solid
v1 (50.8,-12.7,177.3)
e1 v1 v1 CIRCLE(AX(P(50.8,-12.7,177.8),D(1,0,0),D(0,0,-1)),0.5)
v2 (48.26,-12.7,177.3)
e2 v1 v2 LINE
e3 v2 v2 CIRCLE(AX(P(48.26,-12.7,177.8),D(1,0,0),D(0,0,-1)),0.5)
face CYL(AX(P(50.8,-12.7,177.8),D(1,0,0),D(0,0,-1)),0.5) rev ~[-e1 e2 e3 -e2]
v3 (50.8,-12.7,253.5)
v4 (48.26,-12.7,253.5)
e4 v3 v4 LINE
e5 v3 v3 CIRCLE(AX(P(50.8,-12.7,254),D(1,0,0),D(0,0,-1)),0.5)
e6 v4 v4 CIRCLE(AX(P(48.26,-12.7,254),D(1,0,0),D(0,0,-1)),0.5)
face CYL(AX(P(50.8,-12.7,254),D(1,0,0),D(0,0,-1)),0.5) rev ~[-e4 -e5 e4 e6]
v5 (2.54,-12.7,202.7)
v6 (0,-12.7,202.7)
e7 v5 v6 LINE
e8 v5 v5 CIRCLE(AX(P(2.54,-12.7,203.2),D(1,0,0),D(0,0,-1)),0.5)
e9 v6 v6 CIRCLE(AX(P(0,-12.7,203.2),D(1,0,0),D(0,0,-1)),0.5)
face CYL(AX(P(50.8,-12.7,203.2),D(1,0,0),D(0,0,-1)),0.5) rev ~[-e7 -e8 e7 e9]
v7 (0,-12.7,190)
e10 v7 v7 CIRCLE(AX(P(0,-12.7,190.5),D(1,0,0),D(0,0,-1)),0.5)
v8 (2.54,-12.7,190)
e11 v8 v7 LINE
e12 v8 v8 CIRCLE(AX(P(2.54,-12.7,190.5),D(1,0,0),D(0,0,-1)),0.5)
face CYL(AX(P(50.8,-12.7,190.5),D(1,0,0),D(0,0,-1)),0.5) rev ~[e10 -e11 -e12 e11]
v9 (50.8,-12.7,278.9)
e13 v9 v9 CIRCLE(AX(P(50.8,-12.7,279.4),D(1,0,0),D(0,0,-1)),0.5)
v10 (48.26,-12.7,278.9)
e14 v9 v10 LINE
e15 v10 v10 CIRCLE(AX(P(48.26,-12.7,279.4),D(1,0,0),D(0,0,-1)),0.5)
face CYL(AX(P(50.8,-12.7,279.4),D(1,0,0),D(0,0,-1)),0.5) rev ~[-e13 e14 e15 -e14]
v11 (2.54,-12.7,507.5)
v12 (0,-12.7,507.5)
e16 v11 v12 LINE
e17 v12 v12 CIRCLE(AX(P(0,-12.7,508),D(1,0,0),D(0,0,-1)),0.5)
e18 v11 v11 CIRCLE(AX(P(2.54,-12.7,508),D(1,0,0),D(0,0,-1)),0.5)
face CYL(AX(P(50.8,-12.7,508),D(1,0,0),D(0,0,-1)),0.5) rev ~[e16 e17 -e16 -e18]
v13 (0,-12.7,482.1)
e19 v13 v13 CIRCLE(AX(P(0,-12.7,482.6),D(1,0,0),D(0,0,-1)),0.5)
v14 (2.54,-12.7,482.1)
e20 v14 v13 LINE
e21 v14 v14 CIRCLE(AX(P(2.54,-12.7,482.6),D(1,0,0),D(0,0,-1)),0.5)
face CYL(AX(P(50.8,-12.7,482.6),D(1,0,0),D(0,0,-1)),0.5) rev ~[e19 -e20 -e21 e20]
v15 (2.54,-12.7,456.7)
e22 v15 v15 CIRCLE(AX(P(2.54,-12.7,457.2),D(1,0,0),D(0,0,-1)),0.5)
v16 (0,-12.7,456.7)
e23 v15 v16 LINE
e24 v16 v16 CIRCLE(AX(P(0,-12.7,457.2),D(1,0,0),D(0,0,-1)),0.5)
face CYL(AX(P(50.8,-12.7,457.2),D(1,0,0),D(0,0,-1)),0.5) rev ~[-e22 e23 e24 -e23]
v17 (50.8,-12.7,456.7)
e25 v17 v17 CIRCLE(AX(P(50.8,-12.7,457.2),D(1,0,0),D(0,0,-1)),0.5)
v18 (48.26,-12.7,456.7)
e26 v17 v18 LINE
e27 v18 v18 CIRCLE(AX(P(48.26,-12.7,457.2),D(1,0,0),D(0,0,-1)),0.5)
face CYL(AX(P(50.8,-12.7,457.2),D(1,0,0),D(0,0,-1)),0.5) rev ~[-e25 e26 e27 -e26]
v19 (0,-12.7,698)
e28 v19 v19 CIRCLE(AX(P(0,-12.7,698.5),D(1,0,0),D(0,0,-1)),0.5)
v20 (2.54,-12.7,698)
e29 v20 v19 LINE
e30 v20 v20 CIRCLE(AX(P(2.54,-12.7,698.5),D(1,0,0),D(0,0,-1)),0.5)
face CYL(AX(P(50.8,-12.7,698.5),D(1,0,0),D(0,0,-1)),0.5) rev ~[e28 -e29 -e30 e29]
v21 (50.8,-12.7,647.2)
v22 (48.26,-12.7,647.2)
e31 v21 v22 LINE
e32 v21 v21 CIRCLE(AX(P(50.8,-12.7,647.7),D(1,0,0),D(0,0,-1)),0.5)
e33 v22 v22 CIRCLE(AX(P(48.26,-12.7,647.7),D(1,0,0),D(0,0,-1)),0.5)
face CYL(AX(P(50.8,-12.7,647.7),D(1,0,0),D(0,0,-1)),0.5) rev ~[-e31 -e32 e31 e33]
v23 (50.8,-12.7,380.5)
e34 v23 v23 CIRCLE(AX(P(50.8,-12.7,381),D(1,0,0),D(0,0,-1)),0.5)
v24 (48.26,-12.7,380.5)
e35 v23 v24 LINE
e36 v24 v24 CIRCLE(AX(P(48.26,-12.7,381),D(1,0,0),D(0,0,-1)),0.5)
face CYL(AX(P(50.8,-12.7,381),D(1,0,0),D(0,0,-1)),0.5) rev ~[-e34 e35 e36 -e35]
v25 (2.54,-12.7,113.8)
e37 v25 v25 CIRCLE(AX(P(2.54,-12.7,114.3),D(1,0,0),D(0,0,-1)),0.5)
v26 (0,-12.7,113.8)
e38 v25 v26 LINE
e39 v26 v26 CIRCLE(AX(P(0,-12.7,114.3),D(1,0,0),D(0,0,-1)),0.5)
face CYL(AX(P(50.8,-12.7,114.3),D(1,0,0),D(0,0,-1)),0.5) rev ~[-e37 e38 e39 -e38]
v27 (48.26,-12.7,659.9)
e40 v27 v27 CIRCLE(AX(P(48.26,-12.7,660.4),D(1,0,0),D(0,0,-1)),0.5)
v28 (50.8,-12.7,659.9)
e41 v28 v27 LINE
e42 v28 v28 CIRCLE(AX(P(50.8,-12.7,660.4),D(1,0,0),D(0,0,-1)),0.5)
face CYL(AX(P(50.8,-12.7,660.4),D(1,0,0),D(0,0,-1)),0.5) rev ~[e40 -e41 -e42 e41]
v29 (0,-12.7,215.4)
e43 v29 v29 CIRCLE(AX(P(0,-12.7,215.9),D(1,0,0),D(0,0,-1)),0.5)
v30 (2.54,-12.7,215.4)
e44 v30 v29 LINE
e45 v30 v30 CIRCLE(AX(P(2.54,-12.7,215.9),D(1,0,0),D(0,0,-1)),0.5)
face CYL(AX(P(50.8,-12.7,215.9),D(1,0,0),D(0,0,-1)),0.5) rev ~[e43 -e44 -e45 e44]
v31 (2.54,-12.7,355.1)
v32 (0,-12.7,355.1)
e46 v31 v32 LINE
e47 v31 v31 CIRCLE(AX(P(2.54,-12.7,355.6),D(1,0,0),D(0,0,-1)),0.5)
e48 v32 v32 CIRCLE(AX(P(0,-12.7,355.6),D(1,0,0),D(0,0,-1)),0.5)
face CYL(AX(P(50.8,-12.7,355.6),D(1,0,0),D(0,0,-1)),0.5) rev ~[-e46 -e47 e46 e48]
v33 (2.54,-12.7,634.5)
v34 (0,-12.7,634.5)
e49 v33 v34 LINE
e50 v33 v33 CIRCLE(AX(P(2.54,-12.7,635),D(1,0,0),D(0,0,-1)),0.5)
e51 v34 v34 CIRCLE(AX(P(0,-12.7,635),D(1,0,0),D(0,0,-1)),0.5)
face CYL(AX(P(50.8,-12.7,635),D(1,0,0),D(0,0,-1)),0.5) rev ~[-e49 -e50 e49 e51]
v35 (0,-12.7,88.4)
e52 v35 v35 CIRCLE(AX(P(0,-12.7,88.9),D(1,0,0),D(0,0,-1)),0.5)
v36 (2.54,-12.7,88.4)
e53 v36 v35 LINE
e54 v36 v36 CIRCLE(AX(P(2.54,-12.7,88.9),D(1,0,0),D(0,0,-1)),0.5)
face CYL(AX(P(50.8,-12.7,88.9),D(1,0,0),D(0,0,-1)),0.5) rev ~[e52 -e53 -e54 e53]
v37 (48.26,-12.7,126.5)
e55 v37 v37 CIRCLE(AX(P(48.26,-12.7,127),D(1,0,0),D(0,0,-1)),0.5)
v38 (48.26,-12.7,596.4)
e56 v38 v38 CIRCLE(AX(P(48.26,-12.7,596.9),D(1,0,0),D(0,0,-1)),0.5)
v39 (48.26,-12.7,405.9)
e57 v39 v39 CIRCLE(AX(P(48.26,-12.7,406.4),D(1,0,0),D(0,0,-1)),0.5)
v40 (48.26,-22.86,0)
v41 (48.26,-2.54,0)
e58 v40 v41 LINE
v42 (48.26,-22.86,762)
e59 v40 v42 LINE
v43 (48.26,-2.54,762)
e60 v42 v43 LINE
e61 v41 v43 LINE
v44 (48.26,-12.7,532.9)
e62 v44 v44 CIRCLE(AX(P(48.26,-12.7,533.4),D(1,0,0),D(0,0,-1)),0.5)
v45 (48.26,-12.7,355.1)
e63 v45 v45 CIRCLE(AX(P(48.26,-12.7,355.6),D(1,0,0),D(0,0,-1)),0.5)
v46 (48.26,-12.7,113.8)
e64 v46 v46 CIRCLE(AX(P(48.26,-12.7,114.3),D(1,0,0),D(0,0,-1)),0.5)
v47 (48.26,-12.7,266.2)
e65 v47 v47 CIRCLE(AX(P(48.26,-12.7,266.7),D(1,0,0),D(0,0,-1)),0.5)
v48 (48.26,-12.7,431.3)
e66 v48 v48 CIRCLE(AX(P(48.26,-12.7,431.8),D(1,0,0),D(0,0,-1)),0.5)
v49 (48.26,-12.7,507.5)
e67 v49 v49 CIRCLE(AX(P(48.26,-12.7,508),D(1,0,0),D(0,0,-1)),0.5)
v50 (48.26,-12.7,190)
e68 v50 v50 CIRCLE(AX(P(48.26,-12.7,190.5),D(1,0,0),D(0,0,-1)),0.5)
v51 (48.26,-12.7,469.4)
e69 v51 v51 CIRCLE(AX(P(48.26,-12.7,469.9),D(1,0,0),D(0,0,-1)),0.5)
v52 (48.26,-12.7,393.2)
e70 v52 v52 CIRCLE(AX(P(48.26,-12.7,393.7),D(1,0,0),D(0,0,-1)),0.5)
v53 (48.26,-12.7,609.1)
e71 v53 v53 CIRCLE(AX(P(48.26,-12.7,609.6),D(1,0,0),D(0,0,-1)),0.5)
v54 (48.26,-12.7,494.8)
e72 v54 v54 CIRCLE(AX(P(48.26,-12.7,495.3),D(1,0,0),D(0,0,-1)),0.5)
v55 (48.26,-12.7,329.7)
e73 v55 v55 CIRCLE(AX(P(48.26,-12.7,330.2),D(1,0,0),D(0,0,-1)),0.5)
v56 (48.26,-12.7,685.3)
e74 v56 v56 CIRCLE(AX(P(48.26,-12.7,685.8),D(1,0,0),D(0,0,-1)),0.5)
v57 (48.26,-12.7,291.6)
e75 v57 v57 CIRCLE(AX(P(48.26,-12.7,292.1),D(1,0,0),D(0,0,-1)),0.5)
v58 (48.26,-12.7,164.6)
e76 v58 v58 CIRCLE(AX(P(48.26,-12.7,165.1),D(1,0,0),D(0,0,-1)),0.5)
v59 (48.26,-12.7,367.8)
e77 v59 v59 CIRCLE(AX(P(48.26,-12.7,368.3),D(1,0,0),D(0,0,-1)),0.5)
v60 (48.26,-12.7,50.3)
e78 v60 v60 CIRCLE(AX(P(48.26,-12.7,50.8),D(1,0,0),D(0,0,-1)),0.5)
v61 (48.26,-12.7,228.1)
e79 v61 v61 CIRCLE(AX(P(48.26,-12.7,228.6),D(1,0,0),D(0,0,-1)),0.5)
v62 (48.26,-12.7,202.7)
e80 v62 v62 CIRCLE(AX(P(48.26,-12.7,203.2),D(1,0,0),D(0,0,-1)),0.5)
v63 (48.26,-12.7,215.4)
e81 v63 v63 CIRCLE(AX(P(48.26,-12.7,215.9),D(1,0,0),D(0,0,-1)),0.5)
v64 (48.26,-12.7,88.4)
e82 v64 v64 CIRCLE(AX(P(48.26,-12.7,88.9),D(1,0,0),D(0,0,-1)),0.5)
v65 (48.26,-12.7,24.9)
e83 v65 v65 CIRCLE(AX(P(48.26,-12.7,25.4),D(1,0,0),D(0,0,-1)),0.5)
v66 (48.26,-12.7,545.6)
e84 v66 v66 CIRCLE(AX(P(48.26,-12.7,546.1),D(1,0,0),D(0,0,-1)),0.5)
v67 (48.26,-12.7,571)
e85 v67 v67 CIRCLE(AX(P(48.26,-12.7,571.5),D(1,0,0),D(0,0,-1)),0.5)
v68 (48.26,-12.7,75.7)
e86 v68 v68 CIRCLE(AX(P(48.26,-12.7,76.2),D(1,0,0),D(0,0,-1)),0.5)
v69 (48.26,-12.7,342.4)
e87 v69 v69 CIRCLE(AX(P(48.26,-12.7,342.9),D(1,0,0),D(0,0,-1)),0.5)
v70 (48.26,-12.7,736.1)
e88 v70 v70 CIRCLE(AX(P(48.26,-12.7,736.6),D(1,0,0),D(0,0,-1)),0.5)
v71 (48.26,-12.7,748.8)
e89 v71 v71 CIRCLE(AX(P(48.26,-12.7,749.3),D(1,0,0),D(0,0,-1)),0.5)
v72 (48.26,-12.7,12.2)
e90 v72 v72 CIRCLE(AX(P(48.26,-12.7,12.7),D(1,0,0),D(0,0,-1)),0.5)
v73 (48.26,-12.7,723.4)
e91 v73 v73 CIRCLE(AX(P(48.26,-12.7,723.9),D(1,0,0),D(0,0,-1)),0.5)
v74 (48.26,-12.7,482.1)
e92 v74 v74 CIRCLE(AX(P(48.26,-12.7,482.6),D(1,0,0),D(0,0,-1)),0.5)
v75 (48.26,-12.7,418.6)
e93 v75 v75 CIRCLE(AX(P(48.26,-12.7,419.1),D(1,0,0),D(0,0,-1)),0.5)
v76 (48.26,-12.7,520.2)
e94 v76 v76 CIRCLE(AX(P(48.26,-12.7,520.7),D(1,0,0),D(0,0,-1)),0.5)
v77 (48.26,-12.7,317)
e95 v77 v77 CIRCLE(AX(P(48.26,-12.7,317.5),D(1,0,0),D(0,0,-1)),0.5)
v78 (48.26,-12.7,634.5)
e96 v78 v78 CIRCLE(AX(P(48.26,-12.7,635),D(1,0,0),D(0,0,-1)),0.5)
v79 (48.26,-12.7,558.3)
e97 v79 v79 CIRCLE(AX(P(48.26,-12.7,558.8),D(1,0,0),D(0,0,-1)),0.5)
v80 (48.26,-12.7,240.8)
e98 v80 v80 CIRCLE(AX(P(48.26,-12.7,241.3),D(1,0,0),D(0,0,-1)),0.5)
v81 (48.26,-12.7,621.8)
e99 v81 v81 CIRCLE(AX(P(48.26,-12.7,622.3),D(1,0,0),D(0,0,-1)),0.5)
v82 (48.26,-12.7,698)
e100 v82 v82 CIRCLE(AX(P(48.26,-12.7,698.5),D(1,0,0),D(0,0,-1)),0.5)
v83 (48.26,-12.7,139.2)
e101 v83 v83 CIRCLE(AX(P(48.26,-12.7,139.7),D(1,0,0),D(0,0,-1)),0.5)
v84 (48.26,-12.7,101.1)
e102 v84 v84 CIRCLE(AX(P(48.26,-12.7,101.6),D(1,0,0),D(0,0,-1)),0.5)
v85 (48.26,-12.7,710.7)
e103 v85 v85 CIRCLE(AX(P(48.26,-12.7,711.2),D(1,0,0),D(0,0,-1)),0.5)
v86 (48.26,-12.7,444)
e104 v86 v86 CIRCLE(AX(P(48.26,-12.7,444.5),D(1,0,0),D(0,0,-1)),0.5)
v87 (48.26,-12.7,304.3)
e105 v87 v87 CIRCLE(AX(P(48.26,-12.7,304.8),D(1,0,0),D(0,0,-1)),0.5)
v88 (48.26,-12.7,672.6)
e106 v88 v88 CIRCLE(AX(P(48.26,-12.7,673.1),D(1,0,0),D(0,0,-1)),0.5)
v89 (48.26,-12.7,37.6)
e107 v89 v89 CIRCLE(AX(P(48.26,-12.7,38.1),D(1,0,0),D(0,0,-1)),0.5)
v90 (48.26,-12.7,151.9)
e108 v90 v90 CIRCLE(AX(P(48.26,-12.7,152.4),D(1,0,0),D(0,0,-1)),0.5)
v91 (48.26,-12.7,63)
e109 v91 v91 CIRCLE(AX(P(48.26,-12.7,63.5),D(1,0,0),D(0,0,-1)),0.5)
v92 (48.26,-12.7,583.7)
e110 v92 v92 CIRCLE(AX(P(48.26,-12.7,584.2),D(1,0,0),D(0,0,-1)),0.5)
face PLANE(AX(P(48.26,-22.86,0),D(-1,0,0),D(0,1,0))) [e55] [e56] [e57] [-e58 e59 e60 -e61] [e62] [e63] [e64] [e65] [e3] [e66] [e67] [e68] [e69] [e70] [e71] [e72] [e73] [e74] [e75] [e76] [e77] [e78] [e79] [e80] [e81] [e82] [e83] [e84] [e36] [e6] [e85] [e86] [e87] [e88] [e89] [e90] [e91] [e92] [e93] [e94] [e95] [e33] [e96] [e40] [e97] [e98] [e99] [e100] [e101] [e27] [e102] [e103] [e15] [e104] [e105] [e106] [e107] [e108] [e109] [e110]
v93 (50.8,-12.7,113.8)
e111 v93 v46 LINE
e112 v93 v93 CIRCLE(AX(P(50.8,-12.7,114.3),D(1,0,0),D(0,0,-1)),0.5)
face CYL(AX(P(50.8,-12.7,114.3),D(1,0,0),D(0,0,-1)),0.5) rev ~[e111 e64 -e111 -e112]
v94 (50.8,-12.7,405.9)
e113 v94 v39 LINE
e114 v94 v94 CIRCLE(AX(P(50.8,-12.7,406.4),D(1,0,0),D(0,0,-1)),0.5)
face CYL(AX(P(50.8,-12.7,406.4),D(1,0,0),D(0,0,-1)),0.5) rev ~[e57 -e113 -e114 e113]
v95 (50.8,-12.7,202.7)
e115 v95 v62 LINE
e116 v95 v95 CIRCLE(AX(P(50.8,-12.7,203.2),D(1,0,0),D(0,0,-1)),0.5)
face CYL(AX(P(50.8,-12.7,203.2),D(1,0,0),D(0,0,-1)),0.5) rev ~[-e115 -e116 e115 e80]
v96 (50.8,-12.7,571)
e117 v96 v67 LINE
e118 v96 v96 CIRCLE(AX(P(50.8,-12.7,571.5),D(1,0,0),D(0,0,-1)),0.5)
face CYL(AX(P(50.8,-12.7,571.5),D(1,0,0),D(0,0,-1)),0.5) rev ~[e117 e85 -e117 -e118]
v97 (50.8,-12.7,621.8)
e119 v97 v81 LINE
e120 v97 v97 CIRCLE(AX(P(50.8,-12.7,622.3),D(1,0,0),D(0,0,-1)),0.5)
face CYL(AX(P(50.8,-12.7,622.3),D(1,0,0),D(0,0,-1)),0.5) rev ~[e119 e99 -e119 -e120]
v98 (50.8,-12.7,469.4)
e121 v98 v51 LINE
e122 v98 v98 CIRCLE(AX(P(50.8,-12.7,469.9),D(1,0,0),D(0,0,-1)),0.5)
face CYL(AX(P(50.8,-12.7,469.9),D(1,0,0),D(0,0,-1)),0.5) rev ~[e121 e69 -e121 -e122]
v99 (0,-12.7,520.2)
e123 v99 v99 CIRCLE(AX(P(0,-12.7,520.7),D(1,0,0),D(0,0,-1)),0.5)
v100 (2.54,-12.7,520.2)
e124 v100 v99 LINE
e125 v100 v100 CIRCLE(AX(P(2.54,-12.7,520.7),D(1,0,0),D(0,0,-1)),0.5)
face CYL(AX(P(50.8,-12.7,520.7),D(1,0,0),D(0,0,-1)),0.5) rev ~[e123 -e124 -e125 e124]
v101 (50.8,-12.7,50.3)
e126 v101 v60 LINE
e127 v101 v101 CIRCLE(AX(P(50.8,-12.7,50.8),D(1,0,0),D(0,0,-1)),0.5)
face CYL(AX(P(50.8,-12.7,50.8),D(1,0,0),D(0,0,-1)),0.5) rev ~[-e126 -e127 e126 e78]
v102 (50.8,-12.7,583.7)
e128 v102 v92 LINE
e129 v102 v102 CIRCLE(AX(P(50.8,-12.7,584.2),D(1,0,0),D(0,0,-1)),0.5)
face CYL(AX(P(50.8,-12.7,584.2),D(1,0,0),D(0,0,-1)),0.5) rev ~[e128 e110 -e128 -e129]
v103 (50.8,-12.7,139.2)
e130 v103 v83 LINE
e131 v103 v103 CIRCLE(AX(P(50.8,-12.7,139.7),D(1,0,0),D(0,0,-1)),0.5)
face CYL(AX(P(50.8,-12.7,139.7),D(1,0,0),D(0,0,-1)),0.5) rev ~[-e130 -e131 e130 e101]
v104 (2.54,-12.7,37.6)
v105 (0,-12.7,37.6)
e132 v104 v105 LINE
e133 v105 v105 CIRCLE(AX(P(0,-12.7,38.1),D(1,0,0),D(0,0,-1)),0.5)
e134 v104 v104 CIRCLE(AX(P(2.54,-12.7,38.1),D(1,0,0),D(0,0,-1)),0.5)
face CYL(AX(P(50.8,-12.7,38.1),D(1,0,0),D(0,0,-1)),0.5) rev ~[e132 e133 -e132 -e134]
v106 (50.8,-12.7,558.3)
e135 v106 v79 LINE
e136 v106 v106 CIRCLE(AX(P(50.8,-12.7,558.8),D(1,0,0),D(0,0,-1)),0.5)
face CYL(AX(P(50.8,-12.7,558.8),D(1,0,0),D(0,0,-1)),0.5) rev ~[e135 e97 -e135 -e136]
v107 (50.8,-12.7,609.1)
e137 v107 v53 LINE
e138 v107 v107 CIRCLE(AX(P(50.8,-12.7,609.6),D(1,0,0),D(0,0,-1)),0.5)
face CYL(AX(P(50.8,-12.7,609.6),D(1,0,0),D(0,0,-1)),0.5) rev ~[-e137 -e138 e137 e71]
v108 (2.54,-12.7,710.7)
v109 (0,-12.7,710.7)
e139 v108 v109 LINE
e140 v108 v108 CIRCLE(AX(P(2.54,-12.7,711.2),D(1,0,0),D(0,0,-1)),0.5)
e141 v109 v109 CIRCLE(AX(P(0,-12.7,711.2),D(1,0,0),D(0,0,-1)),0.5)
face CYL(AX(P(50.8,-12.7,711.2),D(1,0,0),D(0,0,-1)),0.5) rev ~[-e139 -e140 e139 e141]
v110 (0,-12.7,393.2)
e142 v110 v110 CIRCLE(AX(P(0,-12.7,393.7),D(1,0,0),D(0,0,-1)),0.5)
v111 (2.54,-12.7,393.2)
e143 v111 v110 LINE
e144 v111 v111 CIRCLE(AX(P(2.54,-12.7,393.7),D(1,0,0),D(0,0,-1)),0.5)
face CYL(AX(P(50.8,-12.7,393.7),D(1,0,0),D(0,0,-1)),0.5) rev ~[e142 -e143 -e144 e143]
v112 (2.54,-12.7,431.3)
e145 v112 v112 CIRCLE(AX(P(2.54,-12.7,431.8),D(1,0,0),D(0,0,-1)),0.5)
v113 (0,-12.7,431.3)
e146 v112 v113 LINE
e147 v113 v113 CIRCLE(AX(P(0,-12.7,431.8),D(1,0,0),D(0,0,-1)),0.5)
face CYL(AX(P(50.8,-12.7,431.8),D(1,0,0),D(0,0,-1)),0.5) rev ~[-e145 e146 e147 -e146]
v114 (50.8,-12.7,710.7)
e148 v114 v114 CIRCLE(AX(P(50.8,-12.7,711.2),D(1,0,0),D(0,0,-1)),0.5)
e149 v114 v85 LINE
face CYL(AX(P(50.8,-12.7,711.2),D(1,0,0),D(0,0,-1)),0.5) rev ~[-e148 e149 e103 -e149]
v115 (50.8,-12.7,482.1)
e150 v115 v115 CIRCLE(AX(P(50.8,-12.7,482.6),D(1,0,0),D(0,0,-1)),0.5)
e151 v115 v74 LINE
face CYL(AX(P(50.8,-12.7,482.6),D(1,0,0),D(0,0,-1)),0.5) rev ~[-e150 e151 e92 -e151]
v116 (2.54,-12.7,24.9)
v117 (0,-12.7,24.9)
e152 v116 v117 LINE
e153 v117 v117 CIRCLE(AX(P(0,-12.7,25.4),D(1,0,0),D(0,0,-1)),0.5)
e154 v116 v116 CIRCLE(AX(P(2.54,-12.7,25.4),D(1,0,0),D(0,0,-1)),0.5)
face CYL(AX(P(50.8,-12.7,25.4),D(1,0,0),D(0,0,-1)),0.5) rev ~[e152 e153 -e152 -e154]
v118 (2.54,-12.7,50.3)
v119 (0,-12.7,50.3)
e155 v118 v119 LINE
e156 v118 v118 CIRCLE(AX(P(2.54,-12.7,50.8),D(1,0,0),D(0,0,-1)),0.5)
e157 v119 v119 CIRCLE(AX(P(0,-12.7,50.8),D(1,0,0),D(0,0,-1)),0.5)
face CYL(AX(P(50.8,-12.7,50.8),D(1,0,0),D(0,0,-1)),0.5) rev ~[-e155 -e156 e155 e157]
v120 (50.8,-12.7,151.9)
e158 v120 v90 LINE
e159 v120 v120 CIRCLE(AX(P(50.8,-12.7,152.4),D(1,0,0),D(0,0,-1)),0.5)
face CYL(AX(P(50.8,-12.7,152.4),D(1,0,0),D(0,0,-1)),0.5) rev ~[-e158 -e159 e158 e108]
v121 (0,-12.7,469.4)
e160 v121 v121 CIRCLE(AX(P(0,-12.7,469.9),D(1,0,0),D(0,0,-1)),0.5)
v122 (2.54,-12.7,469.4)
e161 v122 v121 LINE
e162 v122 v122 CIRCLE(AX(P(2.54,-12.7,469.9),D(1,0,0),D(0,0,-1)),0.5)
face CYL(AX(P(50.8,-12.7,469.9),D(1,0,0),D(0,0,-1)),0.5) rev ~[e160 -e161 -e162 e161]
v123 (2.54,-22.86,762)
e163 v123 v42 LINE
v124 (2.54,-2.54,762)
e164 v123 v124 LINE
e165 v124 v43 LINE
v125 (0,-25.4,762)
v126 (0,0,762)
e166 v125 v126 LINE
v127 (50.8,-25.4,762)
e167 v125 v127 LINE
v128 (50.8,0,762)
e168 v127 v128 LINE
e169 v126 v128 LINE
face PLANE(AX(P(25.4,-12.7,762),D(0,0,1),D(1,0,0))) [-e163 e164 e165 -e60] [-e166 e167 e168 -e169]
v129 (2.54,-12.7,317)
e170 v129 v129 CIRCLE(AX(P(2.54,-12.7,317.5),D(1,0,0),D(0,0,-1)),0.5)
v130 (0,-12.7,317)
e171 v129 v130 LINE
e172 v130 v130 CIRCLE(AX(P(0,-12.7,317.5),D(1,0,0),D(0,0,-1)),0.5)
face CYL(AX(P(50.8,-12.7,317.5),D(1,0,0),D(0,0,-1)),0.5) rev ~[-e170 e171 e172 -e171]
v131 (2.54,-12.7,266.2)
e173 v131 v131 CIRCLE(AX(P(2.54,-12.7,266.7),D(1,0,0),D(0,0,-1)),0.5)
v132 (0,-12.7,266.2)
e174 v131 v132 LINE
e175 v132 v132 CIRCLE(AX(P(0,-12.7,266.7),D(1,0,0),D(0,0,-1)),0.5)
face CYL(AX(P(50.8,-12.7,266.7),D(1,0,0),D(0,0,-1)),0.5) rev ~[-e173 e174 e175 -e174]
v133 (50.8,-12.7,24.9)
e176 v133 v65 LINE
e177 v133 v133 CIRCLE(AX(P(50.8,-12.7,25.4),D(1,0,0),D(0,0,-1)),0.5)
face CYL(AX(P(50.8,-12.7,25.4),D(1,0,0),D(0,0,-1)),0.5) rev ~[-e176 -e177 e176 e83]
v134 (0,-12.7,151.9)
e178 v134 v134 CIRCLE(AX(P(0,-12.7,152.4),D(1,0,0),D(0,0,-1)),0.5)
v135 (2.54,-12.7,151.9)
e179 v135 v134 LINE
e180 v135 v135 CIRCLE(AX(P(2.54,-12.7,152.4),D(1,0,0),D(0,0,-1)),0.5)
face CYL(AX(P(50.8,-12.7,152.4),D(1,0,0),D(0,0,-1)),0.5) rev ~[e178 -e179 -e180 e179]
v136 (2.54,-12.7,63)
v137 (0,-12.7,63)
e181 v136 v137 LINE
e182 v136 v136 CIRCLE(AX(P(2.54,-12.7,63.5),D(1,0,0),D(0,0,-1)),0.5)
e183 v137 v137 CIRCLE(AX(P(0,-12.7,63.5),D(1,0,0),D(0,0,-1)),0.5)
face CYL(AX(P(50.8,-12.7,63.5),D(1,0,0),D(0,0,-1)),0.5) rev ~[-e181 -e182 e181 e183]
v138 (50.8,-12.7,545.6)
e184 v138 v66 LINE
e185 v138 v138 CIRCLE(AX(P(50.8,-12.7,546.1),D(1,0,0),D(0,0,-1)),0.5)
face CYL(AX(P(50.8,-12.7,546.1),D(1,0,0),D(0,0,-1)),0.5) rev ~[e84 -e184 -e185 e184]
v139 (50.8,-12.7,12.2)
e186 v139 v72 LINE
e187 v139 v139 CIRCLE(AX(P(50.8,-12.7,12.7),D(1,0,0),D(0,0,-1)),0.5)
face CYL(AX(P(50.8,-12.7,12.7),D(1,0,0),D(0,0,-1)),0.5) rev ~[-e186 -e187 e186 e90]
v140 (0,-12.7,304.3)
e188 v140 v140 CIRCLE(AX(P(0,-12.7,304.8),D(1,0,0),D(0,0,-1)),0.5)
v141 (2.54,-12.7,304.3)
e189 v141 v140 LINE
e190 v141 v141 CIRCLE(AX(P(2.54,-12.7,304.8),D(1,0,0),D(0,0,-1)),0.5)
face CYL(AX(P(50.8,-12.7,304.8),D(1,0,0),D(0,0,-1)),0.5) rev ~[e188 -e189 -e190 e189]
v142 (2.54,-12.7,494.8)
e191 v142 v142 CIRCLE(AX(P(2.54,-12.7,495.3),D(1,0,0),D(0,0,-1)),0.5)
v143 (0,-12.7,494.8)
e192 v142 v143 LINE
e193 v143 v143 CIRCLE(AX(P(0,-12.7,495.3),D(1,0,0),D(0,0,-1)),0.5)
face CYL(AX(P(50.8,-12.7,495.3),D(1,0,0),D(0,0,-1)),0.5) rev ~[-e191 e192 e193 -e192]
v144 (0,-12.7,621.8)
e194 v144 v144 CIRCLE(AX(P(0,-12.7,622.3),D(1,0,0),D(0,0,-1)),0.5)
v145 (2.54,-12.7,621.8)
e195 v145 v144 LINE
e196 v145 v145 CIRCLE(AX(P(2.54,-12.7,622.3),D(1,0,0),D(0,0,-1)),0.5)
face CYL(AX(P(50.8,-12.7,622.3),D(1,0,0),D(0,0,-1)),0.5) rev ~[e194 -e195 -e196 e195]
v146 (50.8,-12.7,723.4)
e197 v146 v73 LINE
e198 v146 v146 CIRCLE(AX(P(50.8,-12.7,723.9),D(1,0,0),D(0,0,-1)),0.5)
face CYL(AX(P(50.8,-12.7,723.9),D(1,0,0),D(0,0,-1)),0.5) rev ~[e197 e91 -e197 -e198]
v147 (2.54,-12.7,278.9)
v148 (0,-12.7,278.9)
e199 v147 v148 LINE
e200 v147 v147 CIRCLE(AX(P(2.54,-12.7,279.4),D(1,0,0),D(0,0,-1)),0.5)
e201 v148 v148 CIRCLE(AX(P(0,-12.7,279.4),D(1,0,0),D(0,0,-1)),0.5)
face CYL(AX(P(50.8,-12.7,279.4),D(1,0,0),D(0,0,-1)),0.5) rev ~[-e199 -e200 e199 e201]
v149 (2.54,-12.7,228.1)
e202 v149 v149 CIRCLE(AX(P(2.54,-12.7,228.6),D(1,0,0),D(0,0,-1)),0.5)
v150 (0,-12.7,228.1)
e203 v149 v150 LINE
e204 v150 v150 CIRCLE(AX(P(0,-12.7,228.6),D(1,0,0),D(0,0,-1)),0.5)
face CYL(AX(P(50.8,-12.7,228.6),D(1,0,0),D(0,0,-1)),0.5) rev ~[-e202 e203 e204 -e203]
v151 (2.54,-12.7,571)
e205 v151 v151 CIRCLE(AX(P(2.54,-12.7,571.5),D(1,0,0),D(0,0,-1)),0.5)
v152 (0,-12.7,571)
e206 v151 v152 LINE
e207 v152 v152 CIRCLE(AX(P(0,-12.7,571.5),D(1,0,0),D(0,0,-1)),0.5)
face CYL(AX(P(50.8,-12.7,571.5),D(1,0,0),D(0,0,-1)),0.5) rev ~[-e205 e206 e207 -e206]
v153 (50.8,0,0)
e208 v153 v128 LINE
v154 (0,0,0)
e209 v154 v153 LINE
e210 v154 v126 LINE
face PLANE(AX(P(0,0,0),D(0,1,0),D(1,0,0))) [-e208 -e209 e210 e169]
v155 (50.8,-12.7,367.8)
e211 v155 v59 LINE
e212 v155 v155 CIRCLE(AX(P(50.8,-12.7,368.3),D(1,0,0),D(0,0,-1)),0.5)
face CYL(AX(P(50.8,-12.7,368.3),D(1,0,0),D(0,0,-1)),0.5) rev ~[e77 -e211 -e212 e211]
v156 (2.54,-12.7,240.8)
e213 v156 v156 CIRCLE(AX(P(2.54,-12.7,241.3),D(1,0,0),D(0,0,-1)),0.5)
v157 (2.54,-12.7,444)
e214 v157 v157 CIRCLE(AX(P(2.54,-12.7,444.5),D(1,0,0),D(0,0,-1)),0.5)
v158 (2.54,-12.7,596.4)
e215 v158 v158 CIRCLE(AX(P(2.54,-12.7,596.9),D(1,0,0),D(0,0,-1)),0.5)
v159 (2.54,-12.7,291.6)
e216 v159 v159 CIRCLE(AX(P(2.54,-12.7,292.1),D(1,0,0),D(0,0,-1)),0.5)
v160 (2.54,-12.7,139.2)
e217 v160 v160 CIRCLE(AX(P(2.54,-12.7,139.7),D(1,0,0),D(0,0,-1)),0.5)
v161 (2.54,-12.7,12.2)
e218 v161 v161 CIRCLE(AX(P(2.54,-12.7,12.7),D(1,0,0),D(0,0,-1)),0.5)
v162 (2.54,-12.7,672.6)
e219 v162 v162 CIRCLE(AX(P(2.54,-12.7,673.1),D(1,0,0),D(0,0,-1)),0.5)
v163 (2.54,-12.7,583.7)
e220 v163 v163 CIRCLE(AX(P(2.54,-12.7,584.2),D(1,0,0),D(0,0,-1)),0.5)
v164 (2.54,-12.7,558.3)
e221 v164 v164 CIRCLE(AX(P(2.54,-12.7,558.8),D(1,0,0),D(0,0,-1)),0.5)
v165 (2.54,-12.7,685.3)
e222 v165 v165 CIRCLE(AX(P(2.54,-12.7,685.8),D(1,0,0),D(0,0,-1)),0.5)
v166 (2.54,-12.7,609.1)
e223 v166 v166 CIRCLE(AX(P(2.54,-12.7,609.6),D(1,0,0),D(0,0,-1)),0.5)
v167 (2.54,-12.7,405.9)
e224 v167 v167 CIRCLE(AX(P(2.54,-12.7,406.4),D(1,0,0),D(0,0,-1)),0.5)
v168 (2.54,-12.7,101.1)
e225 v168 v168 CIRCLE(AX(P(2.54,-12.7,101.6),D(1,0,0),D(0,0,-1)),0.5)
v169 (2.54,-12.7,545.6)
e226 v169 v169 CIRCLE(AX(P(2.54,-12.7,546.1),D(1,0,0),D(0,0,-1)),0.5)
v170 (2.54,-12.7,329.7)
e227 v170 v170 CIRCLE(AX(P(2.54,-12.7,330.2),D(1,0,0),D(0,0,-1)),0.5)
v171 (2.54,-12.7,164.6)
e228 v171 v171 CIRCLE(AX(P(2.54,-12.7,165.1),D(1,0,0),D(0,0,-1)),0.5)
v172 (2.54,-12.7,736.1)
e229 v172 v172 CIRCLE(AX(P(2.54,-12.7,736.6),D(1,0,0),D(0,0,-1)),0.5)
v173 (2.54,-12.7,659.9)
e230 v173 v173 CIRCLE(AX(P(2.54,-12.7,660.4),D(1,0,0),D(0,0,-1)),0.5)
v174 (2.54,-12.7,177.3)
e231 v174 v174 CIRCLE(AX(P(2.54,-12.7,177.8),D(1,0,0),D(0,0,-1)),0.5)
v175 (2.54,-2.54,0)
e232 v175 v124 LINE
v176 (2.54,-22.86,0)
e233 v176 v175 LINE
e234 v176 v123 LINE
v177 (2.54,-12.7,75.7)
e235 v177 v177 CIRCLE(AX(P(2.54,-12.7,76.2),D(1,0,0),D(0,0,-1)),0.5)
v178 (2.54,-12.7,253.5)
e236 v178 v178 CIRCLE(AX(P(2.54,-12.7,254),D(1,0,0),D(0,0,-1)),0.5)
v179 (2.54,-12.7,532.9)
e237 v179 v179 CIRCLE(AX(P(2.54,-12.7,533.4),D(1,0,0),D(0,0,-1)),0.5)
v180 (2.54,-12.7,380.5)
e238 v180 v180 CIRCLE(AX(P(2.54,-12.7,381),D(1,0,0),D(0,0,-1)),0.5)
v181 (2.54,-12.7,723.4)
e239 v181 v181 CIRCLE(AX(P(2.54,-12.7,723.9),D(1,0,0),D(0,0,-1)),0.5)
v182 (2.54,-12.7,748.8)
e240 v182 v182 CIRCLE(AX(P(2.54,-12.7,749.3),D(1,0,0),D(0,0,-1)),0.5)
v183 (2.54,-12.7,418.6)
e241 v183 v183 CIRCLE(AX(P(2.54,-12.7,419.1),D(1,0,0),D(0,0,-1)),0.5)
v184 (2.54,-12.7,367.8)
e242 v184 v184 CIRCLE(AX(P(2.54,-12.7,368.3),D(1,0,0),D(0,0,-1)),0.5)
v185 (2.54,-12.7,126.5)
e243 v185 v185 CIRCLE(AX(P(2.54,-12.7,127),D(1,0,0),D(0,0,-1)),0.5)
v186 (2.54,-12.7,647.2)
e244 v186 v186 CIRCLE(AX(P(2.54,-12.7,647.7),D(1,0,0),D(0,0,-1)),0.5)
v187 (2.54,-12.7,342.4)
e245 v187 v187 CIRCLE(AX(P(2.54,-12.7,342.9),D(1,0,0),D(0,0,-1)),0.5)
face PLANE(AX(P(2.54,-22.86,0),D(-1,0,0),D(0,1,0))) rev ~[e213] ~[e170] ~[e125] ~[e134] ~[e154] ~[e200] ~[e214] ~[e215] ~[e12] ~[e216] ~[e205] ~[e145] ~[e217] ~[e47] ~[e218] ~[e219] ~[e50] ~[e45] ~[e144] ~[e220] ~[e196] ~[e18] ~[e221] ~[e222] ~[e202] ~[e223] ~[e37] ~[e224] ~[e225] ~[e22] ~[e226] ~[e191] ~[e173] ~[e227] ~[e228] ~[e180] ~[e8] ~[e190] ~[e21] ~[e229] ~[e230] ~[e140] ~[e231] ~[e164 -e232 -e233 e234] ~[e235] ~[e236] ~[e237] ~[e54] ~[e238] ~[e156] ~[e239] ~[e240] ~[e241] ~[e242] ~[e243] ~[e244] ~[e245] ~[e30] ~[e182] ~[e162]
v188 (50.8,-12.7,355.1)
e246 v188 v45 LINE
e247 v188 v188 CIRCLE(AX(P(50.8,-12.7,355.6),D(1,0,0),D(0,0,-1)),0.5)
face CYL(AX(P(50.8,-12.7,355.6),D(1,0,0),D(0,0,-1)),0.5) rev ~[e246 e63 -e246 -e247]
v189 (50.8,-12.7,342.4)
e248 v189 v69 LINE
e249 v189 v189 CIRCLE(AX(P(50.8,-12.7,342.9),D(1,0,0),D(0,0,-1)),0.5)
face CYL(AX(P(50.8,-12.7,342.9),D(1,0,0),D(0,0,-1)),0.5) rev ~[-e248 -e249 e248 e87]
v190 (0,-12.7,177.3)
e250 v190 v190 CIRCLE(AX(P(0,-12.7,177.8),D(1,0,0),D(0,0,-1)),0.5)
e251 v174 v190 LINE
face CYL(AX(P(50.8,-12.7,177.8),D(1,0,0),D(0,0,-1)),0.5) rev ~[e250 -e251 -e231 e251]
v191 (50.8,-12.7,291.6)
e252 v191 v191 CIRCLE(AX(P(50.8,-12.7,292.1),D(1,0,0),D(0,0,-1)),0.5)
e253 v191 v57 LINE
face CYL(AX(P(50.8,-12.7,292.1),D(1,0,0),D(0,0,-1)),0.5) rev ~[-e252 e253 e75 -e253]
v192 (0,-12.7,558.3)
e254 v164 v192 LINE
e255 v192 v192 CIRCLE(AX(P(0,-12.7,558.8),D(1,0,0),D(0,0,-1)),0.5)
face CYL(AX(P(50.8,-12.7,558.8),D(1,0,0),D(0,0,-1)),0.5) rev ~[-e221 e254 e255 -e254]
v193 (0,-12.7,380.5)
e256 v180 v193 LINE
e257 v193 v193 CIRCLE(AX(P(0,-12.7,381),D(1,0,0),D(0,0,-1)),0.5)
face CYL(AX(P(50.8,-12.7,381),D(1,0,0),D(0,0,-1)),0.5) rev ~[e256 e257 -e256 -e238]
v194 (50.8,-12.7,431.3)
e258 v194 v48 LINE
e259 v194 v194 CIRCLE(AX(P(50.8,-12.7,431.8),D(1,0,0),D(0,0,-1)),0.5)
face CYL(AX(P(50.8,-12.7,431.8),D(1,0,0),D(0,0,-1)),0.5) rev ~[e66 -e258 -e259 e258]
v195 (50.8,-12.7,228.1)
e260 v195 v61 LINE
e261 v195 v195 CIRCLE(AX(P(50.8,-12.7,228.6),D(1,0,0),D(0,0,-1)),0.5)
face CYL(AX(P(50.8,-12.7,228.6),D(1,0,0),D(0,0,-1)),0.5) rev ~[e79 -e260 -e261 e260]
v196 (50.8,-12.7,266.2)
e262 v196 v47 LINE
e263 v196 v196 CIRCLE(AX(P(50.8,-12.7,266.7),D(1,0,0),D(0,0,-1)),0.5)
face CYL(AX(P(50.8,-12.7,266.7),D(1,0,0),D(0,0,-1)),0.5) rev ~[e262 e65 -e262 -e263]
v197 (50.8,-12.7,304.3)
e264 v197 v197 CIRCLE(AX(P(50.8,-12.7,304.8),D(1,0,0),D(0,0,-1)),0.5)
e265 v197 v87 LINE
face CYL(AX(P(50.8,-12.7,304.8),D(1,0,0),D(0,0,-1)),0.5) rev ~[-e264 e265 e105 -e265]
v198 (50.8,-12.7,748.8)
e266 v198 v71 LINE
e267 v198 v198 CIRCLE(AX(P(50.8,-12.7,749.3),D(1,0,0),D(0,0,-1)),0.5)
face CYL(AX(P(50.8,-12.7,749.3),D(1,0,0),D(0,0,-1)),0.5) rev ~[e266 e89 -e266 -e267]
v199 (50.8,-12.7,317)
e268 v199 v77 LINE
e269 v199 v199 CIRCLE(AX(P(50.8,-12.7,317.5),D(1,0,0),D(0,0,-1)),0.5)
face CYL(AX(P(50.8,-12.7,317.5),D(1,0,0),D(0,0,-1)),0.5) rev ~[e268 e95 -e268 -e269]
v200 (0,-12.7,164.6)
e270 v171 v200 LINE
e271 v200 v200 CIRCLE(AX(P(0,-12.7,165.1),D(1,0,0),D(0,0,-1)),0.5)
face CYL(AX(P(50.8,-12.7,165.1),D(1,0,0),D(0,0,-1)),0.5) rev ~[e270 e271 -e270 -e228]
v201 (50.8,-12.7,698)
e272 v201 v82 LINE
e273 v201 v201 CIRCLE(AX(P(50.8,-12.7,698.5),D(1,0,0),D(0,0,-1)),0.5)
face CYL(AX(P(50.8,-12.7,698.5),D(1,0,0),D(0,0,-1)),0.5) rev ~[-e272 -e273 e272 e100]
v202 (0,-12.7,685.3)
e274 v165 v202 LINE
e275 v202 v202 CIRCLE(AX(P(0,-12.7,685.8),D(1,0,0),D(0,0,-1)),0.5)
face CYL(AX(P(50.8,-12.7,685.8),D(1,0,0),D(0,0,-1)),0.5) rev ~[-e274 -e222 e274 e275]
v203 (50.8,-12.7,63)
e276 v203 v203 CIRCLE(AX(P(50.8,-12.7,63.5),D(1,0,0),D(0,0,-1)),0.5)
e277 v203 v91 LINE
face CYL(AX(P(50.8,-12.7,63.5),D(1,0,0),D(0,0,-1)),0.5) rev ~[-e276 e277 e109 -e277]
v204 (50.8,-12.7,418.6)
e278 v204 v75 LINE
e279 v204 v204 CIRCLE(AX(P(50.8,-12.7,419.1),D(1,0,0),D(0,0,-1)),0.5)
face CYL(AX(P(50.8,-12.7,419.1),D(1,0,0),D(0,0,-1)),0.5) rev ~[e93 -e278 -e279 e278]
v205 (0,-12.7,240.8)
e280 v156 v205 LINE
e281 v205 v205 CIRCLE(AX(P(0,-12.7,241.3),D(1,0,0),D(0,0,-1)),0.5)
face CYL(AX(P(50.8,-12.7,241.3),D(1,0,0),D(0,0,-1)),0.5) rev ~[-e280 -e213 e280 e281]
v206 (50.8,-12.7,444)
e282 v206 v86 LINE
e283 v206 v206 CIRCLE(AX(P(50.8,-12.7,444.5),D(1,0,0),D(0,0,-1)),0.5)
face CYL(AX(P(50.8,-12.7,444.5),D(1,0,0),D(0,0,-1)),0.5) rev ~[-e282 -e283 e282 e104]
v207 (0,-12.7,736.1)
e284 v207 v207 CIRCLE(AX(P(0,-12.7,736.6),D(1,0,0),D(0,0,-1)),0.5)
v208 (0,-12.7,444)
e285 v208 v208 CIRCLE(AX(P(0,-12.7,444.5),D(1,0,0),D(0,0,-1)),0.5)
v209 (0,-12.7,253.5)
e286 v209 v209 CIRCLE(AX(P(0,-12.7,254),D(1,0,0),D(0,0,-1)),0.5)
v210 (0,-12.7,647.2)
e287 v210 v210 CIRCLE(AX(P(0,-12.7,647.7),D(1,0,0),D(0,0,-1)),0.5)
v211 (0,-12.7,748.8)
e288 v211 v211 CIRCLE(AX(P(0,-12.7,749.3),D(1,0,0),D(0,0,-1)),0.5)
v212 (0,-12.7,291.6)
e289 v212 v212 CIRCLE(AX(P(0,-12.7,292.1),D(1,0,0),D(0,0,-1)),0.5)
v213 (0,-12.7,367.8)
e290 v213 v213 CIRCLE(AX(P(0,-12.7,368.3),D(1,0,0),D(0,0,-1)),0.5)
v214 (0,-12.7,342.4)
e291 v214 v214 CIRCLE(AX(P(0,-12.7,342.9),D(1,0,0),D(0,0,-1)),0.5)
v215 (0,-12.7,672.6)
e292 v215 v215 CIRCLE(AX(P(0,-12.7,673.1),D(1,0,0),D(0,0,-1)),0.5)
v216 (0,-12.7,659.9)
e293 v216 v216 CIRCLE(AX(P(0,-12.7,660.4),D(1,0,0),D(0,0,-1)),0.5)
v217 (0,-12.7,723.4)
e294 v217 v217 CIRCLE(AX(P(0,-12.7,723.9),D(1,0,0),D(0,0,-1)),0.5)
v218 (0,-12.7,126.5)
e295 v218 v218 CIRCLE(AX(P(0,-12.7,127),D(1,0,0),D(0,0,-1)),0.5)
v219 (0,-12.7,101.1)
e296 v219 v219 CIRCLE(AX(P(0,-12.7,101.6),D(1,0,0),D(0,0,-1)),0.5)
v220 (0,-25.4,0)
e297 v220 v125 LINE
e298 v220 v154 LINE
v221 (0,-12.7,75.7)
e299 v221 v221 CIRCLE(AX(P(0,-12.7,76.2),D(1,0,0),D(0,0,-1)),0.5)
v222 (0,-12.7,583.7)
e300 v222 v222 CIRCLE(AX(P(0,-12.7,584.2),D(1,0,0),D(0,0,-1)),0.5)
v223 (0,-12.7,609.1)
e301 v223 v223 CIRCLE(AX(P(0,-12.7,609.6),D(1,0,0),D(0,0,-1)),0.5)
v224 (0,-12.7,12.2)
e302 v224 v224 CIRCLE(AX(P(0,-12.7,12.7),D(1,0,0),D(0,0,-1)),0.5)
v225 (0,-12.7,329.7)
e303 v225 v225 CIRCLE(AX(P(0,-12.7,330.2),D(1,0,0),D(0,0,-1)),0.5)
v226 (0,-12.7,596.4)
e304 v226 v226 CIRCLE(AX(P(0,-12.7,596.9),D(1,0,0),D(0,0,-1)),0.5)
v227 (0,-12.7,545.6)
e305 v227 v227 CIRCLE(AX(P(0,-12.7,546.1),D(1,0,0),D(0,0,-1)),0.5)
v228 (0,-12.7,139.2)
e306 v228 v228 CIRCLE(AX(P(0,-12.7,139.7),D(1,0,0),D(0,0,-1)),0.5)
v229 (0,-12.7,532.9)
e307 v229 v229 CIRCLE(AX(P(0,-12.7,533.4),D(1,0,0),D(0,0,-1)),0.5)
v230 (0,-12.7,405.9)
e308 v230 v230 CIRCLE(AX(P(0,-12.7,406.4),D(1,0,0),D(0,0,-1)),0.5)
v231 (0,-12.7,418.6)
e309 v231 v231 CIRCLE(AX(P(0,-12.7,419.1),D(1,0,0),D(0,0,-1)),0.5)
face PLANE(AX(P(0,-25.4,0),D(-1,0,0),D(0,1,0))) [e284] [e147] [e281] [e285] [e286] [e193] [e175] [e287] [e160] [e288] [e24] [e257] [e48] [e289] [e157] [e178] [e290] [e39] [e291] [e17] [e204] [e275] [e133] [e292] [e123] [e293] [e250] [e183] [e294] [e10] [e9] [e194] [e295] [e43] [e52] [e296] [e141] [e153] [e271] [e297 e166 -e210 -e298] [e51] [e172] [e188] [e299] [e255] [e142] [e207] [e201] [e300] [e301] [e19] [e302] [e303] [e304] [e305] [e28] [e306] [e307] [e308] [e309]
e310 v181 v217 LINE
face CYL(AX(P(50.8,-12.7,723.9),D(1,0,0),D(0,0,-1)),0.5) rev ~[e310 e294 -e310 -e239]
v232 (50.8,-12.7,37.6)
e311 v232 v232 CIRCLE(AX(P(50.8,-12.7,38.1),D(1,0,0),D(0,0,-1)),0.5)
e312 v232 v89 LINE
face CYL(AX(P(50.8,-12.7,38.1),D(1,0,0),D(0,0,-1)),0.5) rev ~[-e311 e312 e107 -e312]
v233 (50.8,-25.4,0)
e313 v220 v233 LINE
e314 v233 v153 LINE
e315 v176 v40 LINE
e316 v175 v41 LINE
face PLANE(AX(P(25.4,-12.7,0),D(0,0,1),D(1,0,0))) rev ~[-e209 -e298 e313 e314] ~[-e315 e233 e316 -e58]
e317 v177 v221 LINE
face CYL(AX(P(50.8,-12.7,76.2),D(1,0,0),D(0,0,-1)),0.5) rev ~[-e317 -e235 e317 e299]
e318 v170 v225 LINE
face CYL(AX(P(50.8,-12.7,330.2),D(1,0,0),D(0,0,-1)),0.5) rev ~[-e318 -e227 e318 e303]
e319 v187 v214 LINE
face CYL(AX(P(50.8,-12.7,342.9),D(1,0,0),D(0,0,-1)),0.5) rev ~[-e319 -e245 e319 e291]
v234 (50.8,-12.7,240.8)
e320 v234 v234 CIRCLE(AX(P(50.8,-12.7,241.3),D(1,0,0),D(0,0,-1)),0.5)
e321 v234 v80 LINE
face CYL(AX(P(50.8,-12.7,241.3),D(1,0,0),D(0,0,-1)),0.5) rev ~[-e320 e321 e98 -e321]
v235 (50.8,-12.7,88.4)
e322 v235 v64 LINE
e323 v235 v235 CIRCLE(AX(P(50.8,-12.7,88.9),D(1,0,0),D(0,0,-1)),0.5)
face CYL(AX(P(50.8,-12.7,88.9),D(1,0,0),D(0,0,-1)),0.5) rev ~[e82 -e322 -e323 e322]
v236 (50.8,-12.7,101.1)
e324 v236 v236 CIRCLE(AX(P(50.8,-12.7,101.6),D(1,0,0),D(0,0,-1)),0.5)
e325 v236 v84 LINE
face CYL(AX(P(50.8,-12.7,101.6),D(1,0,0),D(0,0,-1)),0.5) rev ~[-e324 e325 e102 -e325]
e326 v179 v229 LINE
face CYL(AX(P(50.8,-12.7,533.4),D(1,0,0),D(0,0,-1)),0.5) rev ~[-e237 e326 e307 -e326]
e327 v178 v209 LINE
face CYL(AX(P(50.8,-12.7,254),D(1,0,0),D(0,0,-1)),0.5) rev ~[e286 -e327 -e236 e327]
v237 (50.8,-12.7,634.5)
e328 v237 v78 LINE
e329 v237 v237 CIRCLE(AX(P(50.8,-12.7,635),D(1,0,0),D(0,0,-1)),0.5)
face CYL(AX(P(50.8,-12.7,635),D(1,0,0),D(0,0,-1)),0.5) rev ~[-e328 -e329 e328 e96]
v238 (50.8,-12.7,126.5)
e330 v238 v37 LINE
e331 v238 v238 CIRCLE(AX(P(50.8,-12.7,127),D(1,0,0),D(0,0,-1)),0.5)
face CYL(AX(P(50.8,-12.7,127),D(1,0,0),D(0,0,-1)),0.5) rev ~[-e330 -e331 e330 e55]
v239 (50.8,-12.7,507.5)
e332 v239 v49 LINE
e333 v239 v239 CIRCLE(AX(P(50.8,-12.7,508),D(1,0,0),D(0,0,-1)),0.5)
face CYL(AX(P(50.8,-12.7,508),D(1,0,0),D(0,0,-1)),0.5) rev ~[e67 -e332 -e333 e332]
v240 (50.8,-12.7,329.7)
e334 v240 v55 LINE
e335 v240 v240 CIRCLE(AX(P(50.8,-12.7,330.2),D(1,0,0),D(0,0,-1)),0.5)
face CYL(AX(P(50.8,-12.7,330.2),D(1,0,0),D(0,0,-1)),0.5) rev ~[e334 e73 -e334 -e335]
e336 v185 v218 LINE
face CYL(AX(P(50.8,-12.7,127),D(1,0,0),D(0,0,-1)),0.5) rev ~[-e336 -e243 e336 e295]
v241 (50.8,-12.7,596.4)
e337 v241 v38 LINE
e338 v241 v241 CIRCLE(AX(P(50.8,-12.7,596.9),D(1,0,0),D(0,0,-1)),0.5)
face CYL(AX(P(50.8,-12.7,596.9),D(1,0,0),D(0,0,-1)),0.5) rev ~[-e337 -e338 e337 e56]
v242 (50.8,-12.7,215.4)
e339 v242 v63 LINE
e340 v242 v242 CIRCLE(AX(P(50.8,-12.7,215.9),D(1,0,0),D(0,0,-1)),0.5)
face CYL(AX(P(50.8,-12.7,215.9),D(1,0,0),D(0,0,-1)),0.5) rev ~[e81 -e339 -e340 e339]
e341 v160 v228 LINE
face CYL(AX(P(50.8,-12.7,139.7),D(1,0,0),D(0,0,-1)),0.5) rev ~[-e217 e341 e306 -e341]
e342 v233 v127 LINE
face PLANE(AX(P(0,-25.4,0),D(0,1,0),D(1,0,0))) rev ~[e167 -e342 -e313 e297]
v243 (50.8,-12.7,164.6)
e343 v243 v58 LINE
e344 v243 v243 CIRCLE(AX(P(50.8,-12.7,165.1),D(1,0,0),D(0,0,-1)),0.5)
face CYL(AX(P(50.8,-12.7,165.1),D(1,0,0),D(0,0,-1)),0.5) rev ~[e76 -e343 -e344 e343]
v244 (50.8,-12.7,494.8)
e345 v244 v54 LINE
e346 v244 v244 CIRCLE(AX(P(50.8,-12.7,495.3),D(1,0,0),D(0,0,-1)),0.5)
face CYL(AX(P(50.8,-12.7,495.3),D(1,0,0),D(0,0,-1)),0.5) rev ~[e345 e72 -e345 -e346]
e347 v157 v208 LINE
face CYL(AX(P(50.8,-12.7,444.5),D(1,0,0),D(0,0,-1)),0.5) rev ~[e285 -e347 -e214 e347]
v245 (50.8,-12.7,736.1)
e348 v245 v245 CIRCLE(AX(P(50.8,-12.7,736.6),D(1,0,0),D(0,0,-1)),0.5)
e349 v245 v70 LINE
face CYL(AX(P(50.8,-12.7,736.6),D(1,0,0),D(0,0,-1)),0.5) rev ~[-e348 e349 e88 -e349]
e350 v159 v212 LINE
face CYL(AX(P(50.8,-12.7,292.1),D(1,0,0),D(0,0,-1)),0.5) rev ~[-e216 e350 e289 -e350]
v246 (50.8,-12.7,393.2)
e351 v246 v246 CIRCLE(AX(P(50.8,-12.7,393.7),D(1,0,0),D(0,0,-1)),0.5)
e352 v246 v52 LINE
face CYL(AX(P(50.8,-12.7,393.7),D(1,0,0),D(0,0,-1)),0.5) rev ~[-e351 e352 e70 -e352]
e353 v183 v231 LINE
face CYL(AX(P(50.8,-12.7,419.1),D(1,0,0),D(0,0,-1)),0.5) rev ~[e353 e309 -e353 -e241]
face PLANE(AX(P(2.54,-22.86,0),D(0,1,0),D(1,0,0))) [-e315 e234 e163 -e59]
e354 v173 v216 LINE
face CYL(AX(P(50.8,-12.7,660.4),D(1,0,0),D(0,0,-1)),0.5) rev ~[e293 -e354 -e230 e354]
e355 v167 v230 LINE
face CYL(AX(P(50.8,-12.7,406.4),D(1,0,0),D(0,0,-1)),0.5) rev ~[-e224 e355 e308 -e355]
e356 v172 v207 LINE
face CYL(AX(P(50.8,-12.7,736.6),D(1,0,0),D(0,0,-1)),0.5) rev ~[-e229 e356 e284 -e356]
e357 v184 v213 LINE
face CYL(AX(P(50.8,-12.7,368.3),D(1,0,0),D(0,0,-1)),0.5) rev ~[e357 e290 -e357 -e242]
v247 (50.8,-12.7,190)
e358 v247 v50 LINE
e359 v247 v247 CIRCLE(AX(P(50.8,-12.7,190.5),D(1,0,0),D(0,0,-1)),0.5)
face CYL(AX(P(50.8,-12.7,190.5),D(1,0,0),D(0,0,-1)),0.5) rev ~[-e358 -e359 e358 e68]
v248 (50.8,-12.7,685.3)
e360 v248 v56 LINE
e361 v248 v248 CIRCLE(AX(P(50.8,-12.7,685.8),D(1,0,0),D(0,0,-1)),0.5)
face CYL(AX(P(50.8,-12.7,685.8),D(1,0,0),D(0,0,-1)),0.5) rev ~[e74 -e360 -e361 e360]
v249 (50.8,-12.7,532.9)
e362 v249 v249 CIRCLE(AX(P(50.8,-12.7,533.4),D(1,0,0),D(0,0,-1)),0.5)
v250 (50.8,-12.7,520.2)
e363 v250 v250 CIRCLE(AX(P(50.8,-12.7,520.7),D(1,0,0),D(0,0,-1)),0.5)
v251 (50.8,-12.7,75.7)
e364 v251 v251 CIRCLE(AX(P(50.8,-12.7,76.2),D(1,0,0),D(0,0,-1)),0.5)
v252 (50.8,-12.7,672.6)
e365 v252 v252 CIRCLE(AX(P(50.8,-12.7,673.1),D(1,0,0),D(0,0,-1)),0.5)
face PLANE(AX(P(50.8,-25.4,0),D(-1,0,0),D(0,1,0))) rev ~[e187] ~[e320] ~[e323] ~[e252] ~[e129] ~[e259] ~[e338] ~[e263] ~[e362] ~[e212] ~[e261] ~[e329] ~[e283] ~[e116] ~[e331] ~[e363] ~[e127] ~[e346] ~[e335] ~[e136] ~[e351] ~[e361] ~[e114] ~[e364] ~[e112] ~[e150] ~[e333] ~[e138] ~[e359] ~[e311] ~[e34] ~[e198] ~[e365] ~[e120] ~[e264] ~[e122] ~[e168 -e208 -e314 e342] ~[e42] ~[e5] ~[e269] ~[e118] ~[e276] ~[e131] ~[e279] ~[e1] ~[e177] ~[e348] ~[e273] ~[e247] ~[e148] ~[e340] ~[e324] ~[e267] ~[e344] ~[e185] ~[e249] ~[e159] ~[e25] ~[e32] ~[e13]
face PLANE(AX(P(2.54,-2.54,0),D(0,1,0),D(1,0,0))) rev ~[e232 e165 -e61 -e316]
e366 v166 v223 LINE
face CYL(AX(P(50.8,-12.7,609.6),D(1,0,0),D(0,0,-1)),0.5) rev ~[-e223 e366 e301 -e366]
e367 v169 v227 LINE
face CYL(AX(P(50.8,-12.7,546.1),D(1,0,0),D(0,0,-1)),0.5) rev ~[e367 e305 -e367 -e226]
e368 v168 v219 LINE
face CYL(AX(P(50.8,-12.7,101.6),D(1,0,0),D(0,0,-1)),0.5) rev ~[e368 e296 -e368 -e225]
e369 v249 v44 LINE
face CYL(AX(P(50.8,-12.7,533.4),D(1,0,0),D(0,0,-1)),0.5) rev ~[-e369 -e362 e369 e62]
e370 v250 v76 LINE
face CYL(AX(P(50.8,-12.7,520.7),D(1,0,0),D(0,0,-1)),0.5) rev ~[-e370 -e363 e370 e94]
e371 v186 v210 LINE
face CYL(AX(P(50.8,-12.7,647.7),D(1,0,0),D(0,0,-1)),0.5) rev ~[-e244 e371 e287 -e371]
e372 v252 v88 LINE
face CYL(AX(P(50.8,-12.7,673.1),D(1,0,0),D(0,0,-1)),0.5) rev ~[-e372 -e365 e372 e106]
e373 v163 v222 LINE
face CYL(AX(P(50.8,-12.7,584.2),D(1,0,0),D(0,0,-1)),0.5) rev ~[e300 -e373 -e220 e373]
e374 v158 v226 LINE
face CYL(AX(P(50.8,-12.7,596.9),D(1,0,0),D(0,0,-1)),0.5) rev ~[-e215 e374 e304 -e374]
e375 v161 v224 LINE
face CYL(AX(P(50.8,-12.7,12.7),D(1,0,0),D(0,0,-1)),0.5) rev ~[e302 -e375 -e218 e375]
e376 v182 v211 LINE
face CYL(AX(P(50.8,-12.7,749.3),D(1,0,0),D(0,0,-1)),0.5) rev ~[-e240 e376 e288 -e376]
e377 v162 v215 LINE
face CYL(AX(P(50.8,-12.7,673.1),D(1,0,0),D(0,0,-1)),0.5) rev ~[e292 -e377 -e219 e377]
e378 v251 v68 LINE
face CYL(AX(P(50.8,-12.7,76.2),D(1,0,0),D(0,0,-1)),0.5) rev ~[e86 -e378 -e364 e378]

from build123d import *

# Parameters (mm, degrees)
SKETCH1_W           = 50.8
SKETCH1_H           = 25.4
SKETCH1_W_2         = 45.72
SKETCH1_H_2         = 20.32
BOSS_EXTRUDE1_DEPTH = 762
SKETCH2_R           = 0.5
CUT_EXTRUDE1_DEPTH  = 279.4


with BuildPart() as part:
    # Sketch1 → Boss-Extrude1 (new body)
    with BuildSketch(Plane.XY):
        with Locations((25.4, -12.7)):
            Rectangle(SKETCH1_W, SKETCH1_H)
        with Locations((25.4, -12.7)):
            Rectangle(SKETCH1_W_2, SKETCH1_H_2, mode=Mode.SUBTRACT)
    extrude(amount=BOSS_EXTRUDE1_DEPTH)

    # Sketch2 → Cut-Extrude1 (cut)
    with BuildSketch(Plane(origin=(50.8, 0, 0), x_dir=(0, 0, -1), z_dir=(1, 0, 0))):
        with Locations((-749.3, -12.7)):
            Circle(SKETCH2_R)
        with Locations((-736.6, -12.7)):
            Circle(SKETCH2_R)
        with Locations((-723.9, -12.7)):
            Circle(SKETCH2_R)
        with Locations((-711.2, -12.7)):
            Circle(SKETCH2_R)
        with Locations((-698.5, -12.7)):
            Circle(SKETCH2_R)
        with Locations((-685.8, -12.7)):
            Circle(SKETCH2_R)
        with Locations((-673.1, -12.7)):
            Circle(SKETCH2_R)
        with Locations((-660.4, -12.7)):
            Circle(SKETCH2_R)
        with Locations((-647.7, -12.7)):
            Circle(SKETCH2_R)
        with Locations((-635, -12.7)):
            Circle(SKETCH2_R)
        with Locations((-622.3, -12.7)):
            Circle(SKETCH2_R)
        with Locations((-609.6, -12.7)):
            Circle(SKETCH2_R)
        with Locations((-596.9, -12.7)):
            Circle(SKETCH2_R)
        with Locations((-584.2, -12.7)):
            Circle(SKETCH2_R)
        with Locations((-571.5, -12.7)):
            Circle(SKETCH2_R)
        with Locations((-558.8, -12.7)):
            Circle(SKETCH2_R)
        with Locations((-546.1, -12.7)):
            Circle(SKETCH2_R)
        with Locations((-533.4, -12.7)):
            Circle(SKETCH2_R)
        with Locations((-520.7, -12.7)):
            Circle(SKETCH2_R)
        with Locations((-508, -12.7)):
            Circle(SKETCH2_R)
        with Locations((-495.3, -12.7)):
            Circle(SKETCH2_R)
        with Locations((-482.6, -12.7)):
            Circle(SKETCH2_R)
        with Locations((-469.9, -12.7)):
            Circle(SKETCH2_R)
        with Locations((-457.2, -12.7)):
            Circle(SKETCH2_R)
        with Locations((-444.5, -12.7)):
            Circle(SKETCH2_R)
        with Locations((-431.8, -12.7)):
            Circle(SKETCH2_R)
        with Locations((-419.1, -12.7)):
            Circle(SKETCH2_R)
        with Locations((-406.4, -12.7)):
            Circle(SKETCH2_R)
        with Locations((-393.7, -12.7)):
            Circle(SKETCH2_R)
        with Locations((-381, -12.7)):
            Circle(SKETCH2_R)
        with Locations((-368.3, -12.7)):
            Circle(SKETCH2_R)
        with Locations((-355.6, -12.7)):
            Circle(SKETCH2_R)
        with Locations((-342.9, -12.7)):
            Circle(SKETCH2_R)
        with Locations((-330.2, -12.7)):
            Circle(SKETCH2_R)
        with Locations((-317.5, -12.7)):
            Circle(SKETCH2_R)
        with Locations((-304.8, -12.7)):
            Circle(SKETCH2_R)
        with Locations((-292.1, -12.7)):
            Circle(SKETCH2_R)
        with Locations((-279.4, -12.7)):
            Circle(SKETCH2_R)
        with Locations((-266.7, -12.7)):
            Circle(SKETCH2_R)
        with Locations((-254, -12.7)):
            Circle(SKETCH2_R)
        with Locations((-241.3, -12.7)):
            Circle(SKETCH2_R)
        with Locations((-228.6, -12.7)):
            Circle(SKETCH2_R)
        with Locations((-215.9, -12.7)):
            Circle(SKETCH2_R)
        with Locations((-203.2, -12.7)):
            Circle(SKETCH2_R)
        with Locations((-190.5, -12.7)):
            Circle(SKETCH2_R)
        with Locations((-177.8, -12.7)):
            Circle(SKETCH2_R)
        with Locations((-165.1, -12.7)):
            Circle(SKETCH2_R)
        with Locations((-152.4, -12.7)):
            Circle(SKETCH2_R)
        with Locations((-139.7, -12.7)):
            Circle(SKETCH2_R)
        with Locations((-127, -12.7)):
            Circle(SKETCH2_R)
        with Locations((-114.3, -12.7)):
            Circle(SKETCH2_R)
        with Locations((-101.6, -12.7)):
            Circle(SKETCH2_R)
        with Locations((-88.9, -12.7)):
            Circle(SKETCH2_R)
        with Locations((-76.2, -12.7)):
            Circle(SKETCH2_R)
        with Locations((-63.5, -12.7)):
            Circle(SKETCH2_R)
        with Locations((-50.8, -12.7)):
            Circle(SKETCH2_R)
        with Locations((-38.1, -12.7)):
            Circle(SKETCH2_R)
        with Locations((-25.4, -12.7)):
            Circle(SKETCH2_R)
        with Locations((-12.7, -12.7)):
            Circle(SKETCH2_R)
    extrude(amount=-CUT_EXTRUDE1_DEPTH, mode=Mode.SUBTRACT)


solid = part.part
